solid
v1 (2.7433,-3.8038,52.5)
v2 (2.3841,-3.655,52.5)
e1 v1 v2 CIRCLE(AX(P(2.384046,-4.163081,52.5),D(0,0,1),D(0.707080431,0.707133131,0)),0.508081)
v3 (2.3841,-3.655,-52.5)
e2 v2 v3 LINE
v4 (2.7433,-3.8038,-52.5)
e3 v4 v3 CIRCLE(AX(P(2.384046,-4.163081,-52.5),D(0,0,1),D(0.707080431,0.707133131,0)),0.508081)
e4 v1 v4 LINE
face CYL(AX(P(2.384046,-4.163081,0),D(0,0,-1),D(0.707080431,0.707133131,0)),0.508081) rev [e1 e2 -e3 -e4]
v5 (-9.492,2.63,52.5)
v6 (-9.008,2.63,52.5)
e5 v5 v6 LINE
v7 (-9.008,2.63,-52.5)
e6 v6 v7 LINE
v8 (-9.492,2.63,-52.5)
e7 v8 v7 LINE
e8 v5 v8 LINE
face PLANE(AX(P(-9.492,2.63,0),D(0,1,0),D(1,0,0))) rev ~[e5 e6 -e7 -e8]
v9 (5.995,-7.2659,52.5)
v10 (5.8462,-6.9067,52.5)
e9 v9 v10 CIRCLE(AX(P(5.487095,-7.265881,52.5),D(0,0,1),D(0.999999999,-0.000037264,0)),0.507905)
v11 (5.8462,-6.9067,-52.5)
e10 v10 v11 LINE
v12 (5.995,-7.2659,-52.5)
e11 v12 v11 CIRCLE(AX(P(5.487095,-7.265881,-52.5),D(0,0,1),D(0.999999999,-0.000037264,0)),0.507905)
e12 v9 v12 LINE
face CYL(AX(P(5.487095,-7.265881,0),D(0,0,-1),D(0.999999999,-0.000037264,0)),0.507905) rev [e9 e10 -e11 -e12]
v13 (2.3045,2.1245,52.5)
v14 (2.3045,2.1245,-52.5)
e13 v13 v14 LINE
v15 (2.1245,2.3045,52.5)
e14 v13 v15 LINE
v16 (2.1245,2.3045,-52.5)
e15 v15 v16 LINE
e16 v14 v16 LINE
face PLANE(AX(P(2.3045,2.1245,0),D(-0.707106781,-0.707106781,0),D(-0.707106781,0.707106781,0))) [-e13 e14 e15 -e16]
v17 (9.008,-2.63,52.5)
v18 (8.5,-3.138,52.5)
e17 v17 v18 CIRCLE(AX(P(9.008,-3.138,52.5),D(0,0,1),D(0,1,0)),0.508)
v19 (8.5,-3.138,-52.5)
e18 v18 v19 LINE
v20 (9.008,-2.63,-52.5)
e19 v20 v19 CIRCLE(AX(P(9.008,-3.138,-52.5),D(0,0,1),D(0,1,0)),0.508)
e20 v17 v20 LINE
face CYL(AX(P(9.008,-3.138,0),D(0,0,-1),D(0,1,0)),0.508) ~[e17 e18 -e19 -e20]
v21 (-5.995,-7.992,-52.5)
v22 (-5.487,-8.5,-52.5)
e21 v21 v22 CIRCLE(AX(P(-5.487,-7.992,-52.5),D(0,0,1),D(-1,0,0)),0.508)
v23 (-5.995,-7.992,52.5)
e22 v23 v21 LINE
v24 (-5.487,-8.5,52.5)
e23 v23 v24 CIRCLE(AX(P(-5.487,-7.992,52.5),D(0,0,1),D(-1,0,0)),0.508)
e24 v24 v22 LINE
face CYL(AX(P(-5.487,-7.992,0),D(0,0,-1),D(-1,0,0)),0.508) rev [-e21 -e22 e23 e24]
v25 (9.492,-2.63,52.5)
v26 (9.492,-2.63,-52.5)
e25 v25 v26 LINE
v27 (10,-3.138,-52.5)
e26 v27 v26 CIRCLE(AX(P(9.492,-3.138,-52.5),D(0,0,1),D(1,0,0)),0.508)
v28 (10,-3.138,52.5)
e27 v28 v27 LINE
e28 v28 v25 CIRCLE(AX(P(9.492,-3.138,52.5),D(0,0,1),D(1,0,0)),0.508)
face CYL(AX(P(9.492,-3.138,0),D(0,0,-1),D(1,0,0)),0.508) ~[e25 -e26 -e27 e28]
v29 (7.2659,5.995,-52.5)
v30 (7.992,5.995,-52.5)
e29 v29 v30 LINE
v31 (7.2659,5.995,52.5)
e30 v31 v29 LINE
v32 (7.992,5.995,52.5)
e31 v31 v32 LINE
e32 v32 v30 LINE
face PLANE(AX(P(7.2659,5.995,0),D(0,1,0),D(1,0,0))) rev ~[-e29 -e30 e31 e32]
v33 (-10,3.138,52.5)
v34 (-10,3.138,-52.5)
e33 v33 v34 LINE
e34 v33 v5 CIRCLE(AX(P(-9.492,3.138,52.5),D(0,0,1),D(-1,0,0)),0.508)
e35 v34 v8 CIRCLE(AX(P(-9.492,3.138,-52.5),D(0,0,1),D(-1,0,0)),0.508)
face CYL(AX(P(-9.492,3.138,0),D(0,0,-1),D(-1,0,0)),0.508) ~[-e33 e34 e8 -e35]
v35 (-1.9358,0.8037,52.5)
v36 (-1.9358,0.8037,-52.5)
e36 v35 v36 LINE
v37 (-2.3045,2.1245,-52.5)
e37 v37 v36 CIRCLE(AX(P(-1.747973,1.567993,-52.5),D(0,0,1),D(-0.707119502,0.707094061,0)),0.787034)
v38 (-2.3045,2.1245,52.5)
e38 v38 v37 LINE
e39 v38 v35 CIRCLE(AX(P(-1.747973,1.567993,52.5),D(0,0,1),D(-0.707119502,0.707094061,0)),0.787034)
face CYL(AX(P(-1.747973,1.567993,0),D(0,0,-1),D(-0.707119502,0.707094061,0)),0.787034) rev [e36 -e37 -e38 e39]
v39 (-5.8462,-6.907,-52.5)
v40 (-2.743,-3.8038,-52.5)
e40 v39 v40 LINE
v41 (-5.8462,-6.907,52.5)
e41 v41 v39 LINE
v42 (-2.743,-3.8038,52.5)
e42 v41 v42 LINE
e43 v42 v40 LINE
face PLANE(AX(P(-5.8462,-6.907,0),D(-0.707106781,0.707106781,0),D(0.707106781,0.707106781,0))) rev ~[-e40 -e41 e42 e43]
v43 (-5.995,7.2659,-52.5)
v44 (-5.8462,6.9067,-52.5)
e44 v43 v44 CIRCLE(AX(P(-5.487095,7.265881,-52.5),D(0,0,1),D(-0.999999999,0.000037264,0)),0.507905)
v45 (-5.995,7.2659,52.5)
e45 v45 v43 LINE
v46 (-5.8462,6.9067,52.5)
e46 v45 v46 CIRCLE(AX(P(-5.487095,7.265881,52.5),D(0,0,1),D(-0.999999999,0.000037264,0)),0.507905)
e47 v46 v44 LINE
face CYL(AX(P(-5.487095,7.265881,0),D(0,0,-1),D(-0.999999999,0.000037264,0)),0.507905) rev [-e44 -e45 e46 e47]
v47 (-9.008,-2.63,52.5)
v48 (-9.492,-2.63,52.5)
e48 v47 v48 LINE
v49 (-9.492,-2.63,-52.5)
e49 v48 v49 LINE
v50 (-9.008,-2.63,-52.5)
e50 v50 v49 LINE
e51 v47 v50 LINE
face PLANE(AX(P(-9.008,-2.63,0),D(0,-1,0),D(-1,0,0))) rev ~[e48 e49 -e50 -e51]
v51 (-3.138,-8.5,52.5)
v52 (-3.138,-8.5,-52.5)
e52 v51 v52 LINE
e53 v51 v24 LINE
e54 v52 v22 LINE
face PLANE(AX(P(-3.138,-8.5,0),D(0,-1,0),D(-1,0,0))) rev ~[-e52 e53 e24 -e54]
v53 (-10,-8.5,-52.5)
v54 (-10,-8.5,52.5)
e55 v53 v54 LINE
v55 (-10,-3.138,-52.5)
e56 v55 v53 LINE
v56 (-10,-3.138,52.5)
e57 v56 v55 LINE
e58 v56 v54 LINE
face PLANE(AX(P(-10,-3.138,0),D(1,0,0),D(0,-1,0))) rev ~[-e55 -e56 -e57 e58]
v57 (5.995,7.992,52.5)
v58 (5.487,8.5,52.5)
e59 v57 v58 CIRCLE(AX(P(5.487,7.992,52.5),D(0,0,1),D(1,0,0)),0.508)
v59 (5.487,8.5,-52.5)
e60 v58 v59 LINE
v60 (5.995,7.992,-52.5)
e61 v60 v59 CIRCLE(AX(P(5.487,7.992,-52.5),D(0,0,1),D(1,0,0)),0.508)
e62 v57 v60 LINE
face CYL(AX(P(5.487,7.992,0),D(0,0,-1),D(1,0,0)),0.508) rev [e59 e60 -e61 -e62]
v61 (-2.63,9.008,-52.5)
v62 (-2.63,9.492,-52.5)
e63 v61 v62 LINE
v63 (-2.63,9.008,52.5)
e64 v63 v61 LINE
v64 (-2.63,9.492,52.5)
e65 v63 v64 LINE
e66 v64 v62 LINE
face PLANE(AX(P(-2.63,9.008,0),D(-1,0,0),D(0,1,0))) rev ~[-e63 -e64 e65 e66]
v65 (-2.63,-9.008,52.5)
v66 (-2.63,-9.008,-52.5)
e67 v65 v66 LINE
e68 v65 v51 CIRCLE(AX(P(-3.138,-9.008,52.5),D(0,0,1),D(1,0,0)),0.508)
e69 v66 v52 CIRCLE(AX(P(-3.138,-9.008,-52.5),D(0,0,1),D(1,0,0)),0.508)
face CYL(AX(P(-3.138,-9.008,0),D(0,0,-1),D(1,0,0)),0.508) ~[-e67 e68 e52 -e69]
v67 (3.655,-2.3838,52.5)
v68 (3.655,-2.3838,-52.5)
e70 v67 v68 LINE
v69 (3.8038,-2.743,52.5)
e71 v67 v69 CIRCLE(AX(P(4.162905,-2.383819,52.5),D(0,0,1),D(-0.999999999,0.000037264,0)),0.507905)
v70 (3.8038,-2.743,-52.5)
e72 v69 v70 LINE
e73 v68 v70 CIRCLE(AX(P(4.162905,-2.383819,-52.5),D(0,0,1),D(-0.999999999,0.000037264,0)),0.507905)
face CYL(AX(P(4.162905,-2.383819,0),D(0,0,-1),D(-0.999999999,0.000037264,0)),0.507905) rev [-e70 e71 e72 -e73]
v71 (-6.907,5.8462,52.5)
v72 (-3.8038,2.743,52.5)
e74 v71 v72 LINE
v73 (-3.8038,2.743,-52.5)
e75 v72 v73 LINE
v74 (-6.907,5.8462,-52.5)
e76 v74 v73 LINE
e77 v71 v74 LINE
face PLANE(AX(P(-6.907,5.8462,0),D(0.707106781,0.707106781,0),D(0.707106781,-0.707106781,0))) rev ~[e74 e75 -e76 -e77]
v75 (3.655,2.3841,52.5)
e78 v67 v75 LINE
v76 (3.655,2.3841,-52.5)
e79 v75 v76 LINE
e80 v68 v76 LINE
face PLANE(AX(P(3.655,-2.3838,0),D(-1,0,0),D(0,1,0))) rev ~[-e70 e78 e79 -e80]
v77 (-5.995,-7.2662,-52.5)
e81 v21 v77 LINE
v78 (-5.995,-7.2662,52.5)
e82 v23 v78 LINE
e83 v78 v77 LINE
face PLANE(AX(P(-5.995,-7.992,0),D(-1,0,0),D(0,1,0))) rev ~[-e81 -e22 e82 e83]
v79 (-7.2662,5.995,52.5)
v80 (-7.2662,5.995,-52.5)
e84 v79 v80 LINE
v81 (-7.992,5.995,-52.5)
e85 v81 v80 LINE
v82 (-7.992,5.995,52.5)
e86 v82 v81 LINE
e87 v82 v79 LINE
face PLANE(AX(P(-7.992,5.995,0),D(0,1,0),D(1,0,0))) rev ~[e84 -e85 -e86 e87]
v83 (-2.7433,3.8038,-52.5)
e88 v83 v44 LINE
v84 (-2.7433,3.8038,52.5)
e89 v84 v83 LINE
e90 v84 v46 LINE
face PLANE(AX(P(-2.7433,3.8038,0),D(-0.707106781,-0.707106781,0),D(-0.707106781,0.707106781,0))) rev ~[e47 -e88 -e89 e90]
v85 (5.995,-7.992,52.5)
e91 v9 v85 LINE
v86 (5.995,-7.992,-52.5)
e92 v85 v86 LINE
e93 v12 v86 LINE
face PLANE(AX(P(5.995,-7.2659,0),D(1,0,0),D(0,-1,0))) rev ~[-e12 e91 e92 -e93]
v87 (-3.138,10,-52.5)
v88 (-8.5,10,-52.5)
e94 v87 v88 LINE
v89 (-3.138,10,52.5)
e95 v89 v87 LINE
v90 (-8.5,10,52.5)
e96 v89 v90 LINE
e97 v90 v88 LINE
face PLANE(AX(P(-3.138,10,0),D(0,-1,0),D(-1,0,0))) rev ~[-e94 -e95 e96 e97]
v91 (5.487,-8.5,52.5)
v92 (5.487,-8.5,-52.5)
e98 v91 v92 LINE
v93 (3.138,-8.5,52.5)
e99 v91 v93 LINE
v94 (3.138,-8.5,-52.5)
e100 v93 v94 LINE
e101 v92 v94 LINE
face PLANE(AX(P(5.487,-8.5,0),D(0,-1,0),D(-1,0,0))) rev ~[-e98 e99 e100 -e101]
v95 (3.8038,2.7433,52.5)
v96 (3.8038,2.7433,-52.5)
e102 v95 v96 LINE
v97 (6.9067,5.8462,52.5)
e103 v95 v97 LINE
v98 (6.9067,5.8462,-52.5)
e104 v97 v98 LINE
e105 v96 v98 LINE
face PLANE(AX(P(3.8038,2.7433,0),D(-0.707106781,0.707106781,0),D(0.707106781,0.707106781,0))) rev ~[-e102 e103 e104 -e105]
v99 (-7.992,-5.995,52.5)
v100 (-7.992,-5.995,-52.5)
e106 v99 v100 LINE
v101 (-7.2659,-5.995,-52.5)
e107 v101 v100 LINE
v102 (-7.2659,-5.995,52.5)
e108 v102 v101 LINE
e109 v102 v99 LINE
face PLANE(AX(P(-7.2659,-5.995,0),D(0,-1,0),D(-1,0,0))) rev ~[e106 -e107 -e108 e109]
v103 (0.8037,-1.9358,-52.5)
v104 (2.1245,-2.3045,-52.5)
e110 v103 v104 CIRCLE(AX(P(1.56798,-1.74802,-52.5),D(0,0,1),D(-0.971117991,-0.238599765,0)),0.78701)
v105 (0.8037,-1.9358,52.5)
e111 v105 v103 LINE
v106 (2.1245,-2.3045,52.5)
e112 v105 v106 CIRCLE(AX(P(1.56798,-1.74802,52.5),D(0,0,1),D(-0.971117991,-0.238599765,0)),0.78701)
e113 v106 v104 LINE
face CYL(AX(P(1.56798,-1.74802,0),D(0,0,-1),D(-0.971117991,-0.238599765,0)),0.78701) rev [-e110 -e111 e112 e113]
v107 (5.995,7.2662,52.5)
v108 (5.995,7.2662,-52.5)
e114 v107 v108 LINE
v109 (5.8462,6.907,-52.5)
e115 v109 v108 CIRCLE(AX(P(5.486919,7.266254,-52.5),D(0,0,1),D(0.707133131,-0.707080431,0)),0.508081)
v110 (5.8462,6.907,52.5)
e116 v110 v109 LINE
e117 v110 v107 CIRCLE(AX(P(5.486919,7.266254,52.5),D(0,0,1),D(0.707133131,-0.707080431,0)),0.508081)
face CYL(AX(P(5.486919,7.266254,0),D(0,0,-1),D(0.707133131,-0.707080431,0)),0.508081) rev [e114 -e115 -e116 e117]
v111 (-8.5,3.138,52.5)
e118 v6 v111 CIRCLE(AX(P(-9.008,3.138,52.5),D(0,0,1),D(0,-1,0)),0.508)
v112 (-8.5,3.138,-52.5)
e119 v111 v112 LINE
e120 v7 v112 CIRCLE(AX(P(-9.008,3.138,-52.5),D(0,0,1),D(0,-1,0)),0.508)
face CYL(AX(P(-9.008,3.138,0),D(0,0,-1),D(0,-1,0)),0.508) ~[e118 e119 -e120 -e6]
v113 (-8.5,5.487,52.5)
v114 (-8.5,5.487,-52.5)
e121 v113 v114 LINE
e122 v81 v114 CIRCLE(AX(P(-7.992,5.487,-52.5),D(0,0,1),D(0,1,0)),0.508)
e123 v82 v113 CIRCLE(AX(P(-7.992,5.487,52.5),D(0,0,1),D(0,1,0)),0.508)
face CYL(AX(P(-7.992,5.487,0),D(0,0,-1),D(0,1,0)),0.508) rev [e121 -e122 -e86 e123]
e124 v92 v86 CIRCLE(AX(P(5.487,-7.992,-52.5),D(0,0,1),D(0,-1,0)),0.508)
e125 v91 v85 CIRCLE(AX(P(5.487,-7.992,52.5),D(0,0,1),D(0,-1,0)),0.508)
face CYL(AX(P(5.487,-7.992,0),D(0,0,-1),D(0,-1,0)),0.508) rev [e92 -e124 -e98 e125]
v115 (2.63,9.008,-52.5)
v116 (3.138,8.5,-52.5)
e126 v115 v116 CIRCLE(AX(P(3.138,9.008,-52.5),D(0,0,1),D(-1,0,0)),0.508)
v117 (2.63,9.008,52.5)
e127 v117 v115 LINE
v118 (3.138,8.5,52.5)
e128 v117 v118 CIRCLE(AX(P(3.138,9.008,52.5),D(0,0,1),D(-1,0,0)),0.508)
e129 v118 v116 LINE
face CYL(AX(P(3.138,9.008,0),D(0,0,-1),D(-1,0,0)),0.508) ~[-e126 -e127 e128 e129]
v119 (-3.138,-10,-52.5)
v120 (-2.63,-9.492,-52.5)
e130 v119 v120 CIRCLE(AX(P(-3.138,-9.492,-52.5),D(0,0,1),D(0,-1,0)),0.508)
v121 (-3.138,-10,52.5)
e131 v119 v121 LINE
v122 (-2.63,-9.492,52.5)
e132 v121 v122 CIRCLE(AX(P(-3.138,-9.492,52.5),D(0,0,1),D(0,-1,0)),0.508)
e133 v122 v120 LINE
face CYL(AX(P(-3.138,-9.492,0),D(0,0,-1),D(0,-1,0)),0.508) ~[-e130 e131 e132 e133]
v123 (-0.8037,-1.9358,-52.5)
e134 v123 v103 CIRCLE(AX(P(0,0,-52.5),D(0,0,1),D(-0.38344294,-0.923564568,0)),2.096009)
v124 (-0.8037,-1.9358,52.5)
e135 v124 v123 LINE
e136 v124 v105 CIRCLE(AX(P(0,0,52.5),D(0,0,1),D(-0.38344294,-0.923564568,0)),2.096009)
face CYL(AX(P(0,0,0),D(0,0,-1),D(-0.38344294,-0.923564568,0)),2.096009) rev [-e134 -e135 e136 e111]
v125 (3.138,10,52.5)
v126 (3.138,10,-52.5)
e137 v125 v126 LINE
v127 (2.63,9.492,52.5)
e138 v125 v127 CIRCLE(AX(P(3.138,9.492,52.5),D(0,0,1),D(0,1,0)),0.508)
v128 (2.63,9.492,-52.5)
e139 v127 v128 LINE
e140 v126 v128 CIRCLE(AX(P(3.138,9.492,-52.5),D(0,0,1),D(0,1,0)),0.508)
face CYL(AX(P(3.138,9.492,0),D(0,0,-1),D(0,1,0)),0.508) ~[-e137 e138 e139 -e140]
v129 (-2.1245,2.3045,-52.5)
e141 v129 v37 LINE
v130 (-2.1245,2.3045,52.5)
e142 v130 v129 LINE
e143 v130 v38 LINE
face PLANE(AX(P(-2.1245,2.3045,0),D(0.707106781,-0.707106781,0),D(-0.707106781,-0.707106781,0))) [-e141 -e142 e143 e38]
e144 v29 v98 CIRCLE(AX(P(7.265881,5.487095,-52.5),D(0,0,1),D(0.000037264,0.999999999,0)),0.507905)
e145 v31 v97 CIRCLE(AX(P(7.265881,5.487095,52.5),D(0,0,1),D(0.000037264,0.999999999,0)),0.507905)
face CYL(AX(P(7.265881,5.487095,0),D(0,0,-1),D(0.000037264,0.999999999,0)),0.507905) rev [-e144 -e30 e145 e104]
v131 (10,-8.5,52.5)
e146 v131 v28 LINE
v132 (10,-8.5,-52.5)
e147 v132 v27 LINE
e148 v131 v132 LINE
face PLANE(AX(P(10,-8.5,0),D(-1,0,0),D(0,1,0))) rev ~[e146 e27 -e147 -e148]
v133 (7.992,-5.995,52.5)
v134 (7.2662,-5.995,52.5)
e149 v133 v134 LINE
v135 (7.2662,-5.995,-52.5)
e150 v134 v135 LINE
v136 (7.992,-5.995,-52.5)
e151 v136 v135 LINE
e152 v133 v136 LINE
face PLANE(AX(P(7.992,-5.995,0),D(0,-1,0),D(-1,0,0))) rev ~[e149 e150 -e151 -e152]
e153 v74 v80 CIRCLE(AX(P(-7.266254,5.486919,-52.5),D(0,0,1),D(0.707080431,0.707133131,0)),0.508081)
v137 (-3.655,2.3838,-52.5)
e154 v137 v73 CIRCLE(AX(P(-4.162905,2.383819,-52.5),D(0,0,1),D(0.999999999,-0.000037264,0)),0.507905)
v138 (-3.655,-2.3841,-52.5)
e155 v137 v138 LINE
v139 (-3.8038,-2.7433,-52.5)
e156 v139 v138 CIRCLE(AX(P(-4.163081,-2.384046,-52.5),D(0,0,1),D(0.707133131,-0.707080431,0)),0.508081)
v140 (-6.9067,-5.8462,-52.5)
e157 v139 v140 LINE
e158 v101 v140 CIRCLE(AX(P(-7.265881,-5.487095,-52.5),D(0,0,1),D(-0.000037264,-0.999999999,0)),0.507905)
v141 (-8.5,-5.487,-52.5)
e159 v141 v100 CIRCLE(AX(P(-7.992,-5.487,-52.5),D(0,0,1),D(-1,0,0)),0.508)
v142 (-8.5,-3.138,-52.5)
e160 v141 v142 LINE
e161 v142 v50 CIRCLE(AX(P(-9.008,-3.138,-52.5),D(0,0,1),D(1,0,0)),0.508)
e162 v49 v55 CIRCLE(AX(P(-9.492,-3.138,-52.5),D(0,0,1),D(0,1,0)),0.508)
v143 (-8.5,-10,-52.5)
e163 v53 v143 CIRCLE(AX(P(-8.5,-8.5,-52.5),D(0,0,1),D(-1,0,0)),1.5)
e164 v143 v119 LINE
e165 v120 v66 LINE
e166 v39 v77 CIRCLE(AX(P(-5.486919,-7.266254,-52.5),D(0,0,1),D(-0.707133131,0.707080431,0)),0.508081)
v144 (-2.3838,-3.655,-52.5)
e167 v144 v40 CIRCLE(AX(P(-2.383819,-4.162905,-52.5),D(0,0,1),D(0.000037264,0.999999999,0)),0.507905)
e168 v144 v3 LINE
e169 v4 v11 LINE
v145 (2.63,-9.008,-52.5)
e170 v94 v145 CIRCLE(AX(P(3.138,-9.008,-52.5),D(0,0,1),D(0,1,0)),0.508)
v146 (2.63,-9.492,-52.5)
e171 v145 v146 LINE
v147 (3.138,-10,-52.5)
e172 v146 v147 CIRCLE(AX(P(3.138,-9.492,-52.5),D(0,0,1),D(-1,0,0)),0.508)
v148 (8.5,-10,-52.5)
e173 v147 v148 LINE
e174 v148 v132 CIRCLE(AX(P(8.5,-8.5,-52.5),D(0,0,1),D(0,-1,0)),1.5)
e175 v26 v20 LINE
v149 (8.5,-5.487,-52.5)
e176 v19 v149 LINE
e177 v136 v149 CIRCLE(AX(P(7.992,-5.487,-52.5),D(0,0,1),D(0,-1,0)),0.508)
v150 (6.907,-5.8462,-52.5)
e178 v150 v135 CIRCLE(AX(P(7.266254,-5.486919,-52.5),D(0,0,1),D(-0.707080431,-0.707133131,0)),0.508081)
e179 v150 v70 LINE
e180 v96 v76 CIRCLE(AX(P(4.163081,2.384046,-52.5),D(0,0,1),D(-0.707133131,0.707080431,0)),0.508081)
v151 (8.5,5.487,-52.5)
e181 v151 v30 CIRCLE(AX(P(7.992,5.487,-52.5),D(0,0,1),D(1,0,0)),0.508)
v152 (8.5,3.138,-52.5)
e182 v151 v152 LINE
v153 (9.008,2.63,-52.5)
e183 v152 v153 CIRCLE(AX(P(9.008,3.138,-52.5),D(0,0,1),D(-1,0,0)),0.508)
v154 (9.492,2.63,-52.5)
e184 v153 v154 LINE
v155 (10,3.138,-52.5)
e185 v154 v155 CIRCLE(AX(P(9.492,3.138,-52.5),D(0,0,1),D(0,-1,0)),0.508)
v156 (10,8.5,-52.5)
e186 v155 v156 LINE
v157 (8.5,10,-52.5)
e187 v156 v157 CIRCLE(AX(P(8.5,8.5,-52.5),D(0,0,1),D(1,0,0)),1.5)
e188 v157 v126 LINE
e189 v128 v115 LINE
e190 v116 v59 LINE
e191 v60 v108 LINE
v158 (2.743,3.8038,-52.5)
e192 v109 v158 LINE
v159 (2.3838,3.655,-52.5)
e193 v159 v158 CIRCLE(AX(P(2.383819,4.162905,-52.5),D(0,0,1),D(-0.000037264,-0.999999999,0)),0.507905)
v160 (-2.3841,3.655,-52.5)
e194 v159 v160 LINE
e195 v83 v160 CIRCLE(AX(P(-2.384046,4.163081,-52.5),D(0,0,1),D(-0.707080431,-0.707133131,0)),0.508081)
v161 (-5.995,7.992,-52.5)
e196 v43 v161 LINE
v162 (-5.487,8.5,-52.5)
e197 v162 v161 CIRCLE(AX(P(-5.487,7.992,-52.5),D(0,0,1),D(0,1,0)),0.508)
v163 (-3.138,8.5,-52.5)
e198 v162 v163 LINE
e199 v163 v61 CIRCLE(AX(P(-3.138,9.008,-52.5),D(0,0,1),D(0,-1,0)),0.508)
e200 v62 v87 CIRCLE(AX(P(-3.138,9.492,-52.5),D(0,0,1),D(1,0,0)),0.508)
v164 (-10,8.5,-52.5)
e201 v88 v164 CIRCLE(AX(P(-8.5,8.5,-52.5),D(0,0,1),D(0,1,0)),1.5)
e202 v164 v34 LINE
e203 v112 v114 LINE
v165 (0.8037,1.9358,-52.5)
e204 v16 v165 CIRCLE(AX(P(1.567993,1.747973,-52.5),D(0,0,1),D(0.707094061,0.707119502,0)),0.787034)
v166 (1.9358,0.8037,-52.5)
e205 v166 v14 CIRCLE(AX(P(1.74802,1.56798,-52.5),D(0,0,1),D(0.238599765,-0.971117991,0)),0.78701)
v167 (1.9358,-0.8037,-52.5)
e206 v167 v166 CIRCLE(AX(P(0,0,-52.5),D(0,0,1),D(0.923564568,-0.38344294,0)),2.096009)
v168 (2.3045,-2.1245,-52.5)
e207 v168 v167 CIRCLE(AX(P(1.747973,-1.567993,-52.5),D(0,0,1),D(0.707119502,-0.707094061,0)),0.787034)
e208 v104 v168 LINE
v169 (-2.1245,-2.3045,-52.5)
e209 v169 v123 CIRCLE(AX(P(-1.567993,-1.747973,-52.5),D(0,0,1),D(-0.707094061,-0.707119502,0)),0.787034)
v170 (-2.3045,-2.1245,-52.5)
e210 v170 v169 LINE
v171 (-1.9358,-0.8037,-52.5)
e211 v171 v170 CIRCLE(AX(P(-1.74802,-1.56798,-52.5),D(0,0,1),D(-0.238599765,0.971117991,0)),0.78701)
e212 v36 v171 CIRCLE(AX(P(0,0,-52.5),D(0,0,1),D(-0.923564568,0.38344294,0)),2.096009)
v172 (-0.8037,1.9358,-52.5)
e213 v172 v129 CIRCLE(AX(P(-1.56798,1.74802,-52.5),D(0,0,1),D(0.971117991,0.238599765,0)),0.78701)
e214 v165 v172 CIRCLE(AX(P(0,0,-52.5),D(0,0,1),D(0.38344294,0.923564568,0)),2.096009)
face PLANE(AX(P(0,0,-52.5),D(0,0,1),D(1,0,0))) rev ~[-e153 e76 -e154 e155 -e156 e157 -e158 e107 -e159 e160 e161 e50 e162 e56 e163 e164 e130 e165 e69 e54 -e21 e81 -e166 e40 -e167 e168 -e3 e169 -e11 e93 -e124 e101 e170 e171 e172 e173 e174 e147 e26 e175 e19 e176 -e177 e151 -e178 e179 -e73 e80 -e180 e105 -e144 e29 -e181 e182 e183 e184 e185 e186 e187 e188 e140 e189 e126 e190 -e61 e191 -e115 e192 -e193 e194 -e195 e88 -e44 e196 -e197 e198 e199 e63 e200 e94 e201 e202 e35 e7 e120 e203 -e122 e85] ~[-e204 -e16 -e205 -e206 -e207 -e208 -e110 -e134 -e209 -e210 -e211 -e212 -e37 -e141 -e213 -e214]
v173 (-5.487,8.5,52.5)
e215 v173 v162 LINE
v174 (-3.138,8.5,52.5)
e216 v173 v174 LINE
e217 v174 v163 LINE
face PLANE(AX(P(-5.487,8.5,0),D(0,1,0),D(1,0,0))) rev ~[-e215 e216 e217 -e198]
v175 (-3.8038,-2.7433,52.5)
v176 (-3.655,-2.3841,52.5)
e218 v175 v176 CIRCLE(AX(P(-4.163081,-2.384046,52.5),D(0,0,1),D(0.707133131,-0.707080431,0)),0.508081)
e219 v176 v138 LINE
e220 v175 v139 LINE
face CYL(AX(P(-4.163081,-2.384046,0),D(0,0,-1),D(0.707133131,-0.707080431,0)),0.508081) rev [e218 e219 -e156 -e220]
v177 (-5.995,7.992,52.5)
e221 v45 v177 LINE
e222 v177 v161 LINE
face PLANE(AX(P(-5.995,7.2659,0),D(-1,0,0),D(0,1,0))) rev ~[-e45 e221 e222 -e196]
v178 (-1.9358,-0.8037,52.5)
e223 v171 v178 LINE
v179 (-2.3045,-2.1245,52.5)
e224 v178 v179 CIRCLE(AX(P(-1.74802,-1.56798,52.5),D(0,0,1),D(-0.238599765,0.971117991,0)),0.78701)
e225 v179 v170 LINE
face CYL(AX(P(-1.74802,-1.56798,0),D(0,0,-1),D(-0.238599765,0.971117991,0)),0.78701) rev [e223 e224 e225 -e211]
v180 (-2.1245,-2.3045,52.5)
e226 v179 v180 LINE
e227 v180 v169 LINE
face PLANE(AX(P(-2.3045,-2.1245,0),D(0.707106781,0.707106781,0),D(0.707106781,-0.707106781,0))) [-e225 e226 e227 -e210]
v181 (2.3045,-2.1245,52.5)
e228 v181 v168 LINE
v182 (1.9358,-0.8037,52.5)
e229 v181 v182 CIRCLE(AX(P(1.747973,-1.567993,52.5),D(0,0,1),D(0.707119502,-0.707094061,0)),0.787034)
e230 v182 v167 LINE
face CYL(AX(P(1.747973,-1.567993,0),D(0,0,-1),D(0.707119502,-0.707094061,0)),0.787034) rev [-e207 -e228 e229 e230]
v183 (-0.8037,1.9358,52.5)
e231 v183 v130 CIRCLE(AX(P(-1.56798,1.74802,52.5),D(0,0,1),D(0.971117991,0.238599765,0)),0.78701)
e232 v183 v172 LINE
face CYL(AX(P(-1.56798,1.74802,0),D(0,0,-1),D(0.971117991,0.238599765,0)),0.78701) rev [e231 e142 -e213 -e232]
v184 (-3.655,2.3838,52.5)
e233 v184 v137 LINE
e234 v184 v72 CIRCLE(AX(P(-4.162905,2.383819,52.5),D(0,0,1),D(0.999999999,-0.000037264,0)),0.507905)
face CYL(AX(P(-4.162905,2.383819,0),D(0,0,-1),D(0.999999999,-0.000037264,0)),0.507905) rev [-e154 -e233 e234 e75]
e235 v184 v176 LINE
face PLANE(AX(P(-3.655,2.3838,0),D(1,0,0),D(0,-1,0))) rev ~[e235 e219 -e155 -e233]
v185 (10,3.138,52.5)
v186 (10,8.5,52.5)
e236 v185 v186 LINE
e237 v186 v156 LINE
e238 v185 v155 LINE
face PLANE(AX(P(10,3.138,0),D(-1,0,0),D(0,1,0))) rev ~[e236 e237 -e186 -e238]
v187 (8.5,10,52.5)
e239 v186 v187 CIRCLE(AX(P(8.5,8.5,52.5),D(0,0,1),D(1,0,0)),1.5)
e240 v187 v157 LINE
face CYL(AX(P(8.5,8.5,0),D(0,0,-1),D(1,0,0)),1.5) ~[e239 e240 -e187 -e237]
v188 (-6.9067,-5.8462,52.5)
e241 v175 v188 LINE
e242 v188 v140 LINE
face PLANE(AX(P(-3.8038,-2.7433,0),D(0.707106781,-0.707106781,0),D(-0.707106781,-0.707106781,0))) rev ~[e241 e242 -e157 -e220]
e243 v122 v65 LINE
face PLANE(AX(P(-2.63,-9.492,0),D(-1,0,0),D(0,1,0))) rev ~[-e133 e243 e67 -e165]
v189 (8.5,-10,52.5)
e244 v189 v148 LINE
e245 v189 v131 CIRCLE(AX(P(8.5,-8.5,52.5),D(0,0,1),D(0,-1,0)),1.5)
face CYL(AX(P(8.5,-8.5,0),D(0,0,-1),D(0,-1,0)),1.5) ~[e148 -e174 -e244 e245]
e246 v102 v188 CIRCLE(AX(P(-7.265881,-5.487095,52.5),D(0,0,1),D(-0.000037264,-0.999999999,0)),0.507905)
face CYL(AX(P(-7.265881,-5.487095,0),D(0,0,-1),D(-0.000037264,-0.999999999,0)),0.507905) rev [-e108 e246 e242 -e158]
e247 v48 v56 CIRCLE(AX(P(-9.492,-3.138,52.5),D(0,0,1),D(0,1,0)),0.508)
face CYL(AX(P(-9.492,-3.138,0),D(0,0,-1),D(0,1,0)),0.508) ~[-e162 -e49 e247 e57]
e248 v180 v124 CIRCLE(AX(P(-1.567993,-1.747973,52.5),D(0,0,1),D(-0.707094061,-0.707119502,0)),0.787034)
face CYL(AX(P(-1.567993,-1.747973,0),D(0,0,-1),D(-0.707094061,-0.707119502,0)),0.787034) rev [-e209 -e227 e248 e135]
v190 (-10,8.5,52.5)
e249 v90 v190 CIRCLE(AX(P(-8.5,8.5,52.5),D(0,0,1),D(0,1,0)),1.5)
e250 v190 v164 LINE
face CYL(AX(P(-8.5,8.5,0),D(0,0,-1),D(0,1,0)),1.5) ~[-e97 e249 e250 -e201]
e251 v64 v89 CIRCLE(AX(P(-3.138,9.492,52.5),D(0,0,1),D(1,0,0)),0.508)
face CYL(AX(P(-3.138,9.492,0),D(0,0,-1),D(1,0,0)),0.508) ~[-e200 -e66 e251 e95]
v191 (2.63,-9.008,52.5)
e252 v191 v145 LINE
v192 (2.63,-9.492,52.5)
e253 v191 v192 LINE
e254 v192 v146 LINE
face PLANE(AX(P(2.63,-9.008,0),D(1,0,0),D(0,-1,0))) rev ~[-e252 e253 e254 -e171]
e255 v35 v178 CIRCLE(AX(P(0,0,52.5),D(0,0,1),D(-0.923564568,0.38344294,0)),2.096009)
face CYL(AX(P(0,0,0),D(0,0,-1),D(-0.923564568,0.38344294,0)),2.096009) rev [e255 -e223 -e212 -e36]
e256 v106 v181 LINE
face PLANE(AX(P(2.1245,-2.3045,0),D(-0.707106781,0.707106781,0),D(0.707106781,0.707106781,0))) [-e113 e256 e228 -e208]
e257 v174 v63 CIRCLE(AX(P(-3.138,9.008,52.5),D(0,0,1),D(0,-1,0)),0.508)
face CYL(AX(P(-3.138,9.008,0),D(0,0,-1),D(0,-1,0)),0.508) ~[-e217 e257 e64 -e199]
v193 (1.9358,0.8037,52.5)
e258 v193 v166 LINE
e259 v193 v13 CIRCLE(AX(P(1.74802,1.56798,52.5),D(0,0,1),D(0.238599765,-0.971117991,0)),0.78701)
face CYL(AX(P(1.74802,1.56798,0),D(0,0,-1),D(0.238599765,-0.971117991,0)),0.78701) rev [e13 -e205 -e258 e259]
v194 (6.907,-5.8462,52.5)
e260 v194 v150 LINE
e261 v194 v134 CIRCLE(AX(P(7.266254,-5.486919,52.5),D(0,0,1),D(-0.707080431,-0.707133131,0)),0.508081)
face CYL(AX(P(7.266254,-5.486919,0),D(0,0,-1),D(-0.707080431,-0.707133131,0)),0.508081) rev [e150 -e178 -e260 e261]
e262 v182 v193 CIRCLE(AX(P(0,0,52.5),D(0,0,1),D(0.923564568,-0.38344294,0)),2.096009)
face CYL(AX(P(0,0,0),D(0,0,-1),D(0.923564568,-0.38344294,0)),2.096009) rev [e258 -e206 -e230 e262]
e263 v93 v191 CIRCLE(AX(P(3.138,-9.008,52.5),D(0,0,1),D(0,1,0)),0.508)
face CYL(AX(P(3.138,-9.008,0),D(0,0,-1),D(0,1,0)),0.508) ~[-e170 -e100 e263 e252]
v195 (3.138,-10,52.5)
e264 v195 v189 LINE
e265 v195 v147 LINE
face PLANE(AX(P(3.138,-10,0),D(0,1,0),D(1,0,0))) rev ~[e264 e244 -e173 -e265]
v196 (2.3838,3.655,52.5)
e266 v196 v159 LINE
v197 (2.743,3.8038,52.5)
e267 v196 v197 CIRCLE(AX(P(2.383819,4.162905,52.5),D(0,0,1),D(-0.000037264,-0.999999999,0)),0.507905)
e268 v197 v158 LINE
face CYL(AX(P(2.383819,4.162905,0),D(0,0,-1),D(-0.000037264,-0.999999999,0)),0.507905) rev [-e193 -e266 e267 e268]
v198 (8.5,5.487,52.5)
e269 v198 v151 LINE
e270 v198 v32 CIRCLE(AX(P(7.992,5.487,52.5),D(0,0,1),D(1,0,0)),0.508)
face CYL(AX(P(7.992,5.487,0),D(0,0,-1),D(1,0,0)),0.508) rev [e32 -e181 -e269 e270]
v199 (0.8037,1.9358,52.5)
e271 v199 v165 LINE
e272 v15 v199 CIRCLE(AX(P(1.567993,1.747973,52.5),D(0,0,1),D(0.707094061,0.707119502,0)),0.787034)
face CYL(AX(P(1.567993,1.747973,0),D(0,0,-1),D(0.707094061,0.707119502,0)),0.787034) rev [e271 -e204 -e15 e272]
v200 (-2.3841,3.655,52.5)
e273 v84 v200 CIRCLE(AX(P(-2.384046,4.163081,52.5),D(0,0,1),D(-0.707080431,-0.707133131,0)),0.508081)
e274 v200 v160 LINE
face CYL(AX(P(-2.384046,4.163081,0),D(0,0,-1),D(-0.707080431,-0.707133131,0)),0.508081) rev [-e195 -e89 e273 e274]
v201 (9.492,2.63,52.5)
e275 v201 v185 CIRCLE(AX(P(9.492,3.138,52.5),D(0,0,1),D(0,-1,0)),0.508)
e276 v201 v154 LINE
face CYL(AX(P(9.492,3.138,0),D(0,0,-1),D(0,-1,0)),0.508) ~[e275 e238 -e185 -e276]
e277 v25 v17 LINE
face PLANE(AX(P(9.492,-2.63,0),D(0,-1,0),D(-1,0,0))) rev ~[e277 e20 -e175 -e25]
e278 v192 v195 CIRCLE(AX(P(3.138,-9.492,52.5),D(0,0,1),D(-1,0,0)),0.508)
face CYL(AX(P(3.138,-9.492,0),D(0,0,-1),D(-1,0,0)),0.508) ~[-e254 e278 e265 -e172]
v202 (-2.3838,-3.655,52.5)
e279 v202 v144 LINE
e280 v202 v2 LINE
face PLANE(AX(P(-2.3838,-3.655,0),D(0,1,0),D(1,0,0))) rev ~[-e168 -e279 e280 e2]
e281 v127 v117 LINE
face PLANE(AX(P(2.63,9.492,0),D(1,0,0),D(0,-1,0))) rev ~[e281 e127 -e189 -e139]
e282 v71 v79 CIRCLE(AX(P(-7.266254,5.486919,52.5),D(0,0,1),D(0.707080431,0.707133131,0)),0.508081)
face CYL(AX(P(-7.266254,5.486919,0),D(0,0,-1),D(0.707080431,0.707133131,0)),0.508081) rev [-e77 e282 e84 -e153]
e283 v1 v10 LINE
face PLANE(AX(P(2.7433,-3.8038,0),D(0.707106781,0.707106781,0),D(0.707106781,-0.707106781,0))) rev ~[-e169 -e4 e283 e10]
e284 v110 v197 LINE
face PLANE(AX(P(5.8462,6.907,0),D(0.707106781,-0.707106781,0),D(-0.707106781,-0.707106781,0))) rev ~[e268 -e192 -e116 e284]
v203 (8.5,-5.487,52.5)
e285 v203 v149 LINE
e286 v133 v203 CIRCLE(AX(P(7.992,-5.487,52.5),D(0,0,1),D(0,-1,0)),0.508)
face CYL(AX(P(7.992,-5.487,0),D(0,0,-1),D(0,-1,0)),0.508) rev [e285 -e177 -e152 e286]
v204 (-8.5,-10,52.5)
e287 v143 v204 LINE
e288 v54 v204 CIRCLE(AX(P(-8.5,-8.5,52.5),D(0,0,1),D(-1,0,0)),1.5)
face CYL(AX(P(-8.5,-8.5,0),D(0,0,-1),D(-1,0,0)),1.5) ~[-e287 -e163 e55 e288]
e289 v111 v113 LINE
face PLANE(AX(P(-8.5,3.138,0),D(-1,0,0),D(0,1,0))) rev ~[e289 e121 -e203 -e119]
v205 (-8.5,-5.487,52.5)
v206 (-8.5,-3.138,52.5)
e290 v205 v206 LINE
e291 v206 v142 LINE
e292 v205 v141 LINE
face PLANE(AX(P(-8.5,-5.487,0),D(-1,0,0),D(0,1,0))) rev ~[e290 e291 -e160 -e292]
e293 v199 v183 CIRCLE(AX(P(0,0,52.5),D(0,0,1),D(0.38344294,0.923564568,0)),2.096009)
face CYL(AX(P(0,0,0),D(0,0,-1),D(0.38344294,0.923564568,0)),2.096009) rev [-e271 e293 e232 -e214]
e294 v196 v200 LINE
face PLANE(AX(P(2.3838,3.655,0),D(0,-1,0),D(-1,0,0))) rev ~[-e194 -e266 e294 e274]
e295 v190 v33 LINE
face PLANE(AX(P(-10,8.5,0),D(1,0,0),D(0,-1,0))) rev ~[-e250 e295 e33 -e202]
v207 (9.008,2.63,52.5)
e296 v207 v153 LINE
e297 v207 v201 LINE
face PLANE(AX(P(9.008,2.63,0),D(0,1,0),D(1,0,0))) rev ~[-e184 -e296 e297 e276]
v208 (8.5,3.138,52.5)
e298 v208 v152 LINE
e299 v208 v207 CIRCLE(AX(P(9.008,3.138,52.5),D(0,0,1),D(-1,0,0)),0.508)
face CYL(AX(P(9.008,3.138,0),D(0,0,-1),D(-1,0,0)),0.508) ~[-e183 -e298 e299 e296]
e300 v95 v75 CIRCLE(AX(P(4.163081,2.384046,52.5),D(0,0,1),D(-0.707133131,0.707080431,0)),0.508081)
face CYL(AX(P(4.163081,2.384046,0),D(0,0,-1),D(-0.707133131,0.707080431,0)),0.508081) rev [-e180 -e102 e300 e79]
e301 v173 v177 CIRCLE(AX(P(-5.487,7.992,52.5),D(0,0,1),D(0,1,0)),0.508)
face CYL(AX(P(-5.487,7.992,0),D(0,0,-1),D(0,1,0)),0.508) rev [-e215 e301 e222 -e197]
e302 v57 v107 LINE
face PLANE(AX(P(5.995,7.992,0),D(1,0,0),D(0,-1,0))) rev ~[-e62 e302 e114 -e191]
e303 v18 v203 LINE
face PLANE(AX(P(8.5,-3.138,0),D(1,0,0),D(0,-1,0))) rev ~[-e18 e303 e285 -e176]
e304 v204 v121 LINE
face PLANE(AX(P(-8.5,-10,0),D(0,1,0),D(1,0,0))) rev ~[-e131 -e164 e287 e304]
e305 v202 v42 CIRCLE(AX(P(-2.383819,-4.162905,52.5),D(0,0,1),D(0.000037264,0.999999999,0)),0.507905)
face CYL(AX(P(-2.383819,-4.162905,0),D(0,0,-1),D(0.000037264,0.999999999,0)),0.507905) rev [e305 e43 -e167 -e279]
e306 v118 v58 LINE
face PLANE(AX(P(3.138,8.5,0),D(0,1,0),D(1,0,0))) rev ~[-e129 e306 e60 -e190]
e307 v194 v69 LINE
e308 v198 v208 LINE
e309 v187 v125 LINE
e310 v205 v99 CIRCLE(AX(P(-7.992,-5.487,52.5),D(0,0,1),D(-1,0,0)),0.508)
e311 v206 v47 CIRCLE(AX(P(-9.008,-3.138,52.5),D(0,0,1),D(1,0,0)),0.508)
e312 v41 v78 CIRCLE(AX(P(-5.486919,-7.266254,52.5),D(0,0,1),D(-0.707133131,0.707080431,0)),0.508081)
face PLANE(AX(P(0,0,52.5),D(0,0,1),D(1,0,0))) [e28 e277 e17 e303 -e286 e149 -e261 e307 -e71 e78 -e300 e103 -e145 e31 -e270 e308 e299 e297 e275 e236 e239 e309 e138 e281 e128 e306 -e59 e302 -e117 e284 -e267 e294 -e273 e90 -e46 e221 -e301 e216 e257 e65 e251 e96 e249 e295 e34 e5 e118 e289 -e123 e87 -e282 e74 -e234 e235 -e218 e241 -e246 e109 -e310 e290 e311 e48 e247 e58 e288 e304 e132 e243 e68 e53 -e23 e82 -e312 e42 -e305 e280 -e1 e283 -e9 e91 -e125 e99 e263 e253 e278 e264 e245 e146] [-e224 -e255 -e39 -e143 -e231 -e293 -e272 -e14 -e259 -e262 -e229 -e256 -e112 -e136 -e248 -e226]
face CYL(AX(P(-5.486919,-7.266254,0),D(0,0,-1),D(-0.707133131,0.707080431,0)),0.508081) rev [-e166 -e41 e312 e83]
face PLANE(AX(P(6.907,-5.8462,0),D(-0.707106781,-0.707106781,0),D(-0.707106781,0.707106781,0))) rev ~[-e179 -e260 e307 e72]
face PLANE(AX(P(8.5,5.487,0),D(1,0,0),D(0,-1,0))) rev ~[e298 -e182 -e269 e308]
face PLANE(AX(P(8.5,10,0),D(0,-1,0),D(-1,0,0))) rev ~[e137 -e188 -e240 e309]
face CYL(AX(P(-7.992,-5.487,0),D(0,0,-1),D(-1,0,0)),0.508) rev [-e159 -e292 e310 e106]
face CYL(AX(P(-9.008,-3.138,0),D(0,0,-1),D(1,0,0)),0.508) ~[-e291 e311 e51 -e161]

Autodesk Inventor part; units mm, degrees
ref_plane "YZ Plane" through (0, 0, 0) normal (1, 0, 0) x (0, 1, 0)
ref_plane "XZ Plane" through (0, 0, 0) normal (0, 1, 0) x (-1, 0, 0)
ref_plane "XY Plane" through (0, 0, 0) normal (0, 0, 1) x (1, 0, 0)
sketch "Sketch1" plane through (0, 0, 0) normal (0, 0, 1) x (1, 0, 0)
  arc A0 (-10, -8.5) -> (-8.5, -10) centre (-8.5, -8.5) ccw
  line L0 (-8.5, -10) -> (-3.138, -10)
  arc A1 (-3.138, -10) -> (-2.63, -9.492) centre (-3.138, -9.492) ccw
  line L1 (-2.63, -9.492) -> (-2.63, -9.008)
  arc A2 (-2.63, -9.008) -> (-3.138, -8.5) centre (-3.138, -9.008) ccw
  line L2 (-3.138, -8.5) -> (-5.487, -8.5)
  arc A3 (-5.995, -7.992) -> (-5.487, -8.5) centre (-5.487, -7.992) ccw
  line L3 (-5.995, -7.992) -> (-5.995, -7.2662)
  arc A4 (-5.8462, -6.907) -> (-5.995, -7.2662) centre (-5.487, -7.2662) ccw
  line L4 (-5.8462, -6.907) -> (-2.743, -3.8038)
  arc A5 (-2.3838, -3.655) -> (-2.743, -3.8038) centre (-2.3838, -4.163) ccw
  line L5 (-2.3838, -3.655) -> (2.3841, -3.655)
  arc A6 (2.7433, -3.8038) -> (2.3841, -3.655) centre (2.3841, -4.163) ccw
  line L6 (2.7433, -3.8038) -> (5.8462, -6.9067)
  arc A7 (5.995, -7.2659) -> (5.8462, -6.9067) centre (5.487, -7.2659) ccw
  line L7 (5.995, -7.2659) -> (5.995, -7.992)
  arc A8 (5.487, -8.5) -> (5.995, -7.992) centre (5.487, -7.992) ccw
  line L8 (5.487, -8.5) -> (3.138, -8.5)
  arc A9 (3.138, -8.5) -> (2.63, -9.008) centre (3.138, -9.008) ccw
  line L9 (2.63, -9.008) -> (2.63, -9.492)
  arc A10 (2.63, -9.492) -> (3.138, -10) centre (3.138, -9.492) ccw
  line L10 (3.138, -10) -> (8.5, -10)
  arc A11 (8.5, -10) -> (10, -8.5) centre (8.5, -8.5) ccw
  line L11 (10, -8.5) -> (10, -3.138)
  arc A12 (10, -3.138) -> (9.492, -2.63) centre (9.492, -3.138) ccw
  line L12 (9.492, -2.63) -> (9.008, -2.63)
  arc A13 (9.008, -2.63) -> (8.5, -3.138) centre (9.008, -3.138) ccw
  line L13 (8.5, -3.138) -> (8.5, -5.487)
  arc A14 (7.992, -5.995) -> (8.5, -5.487) centre (7.992, -5.487) ccw
  line L14 (7.992, -5.995) -> (7.2662, -5.995)
  arc A15 (6.907, -5.8462) -> (7.2662, -5.995) centre (7.2662, -5.487) ccw
  line L15 (6.907, -5.8462) -> (3.8038, -2.743)
  arc A16 (3.655, -2.3838) -> (3.8038, -2.743) centre (4.163, -2.3838) ccw
  line L16 (3.655, -2.3838) -> (3.655, 2.3841)
  arc A17 (3.8038, 2.7433) -> (3.655, 2.3841) centre (4.163, 2.3841) ccw
  line L17 (3.8038, 2.7433) -> (6.9067, 5.8462)
  arc A18 (7.2659, 5.995) -> (6.9067, 5.8462) centre (7.2659, 5.487) ccw
  line L18 (7.2659, 5.995) -> (7.992, 5.995)
  arc A19 (8.5, 5.487) -> (7.992, 5.995) centre (7.992, 5.487) ccw
  line L19 (8.5, 5.487) -> (8.5, 3.138)
  arc A20 (8.5, 3.138) -> (9.008, 2.63) centre (9.008, 3.138) ccw
  line L20 (9.008, 2.63) -> (9.492, 2.63)
  arc A21 (9.492, 2.63) -> (10, 3.138) centre (9.492, 3.138) ccw
  line L21 (10, 3.138) -> (10, 8.5)
  arc A22 (10, 8.5) -> (8.5, 10) centre (8.5, 8.5) ccw
  line L22 (8.5, 10) -> (3.138, 10)
  arc A23 (3.138, 10) -> (2.63, 9.492) centre (3.138, 9.492) ccw
  line L23 (2.63, 9.492) -> (2.63, 9.008)
  arc A24 (2.63, 9.008) -> (3.138, 8.5) centre (3.138, 9.008) ccw
  line L24 (3.138, 8.5) -> (5.487, 8.5)
  arc A25 (5.995, 7.992) -> (5.487, 8.5) centre (5.487, 7.992) ccw
  line L25 (5.995, 7.992) -> (5.995, 7.2662)
  arc A26 (5.8462, 6.907) -> (5.995, 7.2662) centre (5.487, 7.2662) ccw
  line L26 (5.8462, 6.907) -> (2.743, 3.8038)
  arc A27 (2.3838, 3.655) -> (2.743, 3.8038) centre (2.3838, 4.163) ccw
  line L27 (2.3838, 3.655) -> (-2.3841, 3.655)
  arc A28 (-2.7433, 3.8038) -> (-2.3841, 3.655) centre (-2.3841, 4.163) ccw
  line L28 (-2.7433, 3.8038) -> (-5.8462, 6.9067)
  arc A29 (-5.995, 7.2659) -> (-5.8462, 6.9067) centre (-5.487, 7.2659) ccw
  line L29 (-5.995, 7.2659) -> (-5.995, 7.992)
  arc A30 (-5.487, 8.5) -> (-5.995, 7.992) centre (-5.487, 7.992) ccw
  line L30 (-5.487, 8.5) -> (-3.138, 8.5)
  arc A31 (-3.138, 8.5) -> (-2.63, 9.008) centre (-3.138, 9.008) ccw
  line L31 (-2.63, 9.008) -> (-2.63, 9.492)
  arc A32 (-2.63, 9.492) -> (-3.138, 10) centre (-3.138, 9.492) ccw
  line L32 (-3.138, 10) -> (-8.5, 10)
  arc A33 (-8.5, 10) -> (-10, 8.5) centre (-8.5, 8.5) ccw
  line L33 (-10, 8.5) -> (-10, 3.138)
  arc A34 (-10, 3.138) -> (-9.492, 2.63) centre (-9.492, 3.138) ccw
  line L34 (-9.492, 2.63) -> (-9.008, 2.63)
  arc A35 (-9.008, 2.63) -> (-8.5, 3.138) centre (-9.008, 3.138) ccw
  line L35 (-8.5, 3.138) -> (-8.5, 5.487)
  arc A36 (-7.992, 5.995) -> (-8.5, 5.487) centre (-7.992, 5.487) ccw
  line L36 (-7.992, 5.995) -> (-7.2662, 5.995)
  arc A37 (-6.907, 5.8462) -> (-7.2662, 5.995) centre (-7.2662, 5.487) ccw
  line L37 (-6.907, 5.8462) -> (-3.8038, 2.743)
  arc A38 (-3.655, 2.3838) -> (-3.8038, 2.743) centre (-4.163, 2.3838) ccw
  line L38 (-3.655, 2.3838) -> (-3.655, -2.3841)
  arc A39 (-3.8038, -2.7433) -> (-3.655, -2.3841) centre (-4.163, -2.3841) ccw
  line L39 (-3.8038, -2.7433) -> (-6.9067, -5.8462)
  arc A40 (-7.2659, -5.995) -> (-6.9067, -5.8462) centre (-7.2659, -5.487) ccw
  line L40 (-7.2659, -5.995) -> (-7.992, -5.995)
  arc A41 (-8.5, -5.487) -> (-7.992, -5.995) centre (-7.992, -5.487) ccw
  line L41 (-8.5, -5.487) -> (-8.5, -3.138)
  arc A42 (-8.5, -3.138) -> (-9.008, -2.63) centre (-9.008, -3.138) ccw
  line L42 (-9.008, -2.63) -> (-9.492, -2.63)
  arc A43 (-9.492, -2.63) -> (-10, -3.138) centre (-9.492, -3.138) ccw
  line L43 (-10, -3.138) -> (-10, -8.5)
  arc A44 (-1.9358, -0.8037) -> (-2.3045, -2.1245) centre (-1.748, -1.568) ccw
  line L44 (-2.3045, -2.1245) -> (-2.1245, -2.3045)
  arc A45 (-2.1245, -2.3045) -> (-0.8037, -1.9358) centre (-1.568, -1.748) ccw
  arc A46 (-0.8037, -1.9358) -> (0.8037, -1.9358) centre (0, 0) ccw
  arc A47 (0.8037, -1.9358) -> (2.1245, -2.3045) centre (1.568, -1.748) ccw
  line L45 (2.1245, -2.3045) -> (2.3045, -2.1245)
  arc A48 (2.3045, -2.1245) -> (1.9358, -0.8037) centre (1.748, -1.568) ccw
  arc A49 (1.9358, -0.8037) -> (1.9358, 0.8037) centre (0, 0) ccw
  arc A50 (1.9358, 0.8037) -> (2.3045, 2.1245) centre (1.748, 1.568) ccw
  line L46 (2.3045, 2.1245) -> (2.1245, 2.3045)
  arc A51 (2.1245, 2.3045) -> (0.8037, 1.9358) centre (1.568, 1.748) ccw
  arc A52 (0.8037, 1.9358) -> (-0.8037, 1.9358) centre (0, 0) ccw
  arc A53 (-0.8037, 1.9358) -> (-2.1245, 2.3045) centre (-1.568, 1.748) ccw
  line L47 (-2.1245, 2.3045) -> (-2.3045, 2.1245)
  arc A54 (-2.3045, 2.1245) -> (-1.9358, 0.8037) centre (-1.748, 1.568) ccw
  arc A55 (-1.9358, 0.8037) -> (-1.9358, -0.8037) centre (0, 0) ccw
  point P0 (0, 0)
extrude "Extrusion1" add sketch "Sketch1" along normal mid plane 105
properties part number "20-2020-285"
